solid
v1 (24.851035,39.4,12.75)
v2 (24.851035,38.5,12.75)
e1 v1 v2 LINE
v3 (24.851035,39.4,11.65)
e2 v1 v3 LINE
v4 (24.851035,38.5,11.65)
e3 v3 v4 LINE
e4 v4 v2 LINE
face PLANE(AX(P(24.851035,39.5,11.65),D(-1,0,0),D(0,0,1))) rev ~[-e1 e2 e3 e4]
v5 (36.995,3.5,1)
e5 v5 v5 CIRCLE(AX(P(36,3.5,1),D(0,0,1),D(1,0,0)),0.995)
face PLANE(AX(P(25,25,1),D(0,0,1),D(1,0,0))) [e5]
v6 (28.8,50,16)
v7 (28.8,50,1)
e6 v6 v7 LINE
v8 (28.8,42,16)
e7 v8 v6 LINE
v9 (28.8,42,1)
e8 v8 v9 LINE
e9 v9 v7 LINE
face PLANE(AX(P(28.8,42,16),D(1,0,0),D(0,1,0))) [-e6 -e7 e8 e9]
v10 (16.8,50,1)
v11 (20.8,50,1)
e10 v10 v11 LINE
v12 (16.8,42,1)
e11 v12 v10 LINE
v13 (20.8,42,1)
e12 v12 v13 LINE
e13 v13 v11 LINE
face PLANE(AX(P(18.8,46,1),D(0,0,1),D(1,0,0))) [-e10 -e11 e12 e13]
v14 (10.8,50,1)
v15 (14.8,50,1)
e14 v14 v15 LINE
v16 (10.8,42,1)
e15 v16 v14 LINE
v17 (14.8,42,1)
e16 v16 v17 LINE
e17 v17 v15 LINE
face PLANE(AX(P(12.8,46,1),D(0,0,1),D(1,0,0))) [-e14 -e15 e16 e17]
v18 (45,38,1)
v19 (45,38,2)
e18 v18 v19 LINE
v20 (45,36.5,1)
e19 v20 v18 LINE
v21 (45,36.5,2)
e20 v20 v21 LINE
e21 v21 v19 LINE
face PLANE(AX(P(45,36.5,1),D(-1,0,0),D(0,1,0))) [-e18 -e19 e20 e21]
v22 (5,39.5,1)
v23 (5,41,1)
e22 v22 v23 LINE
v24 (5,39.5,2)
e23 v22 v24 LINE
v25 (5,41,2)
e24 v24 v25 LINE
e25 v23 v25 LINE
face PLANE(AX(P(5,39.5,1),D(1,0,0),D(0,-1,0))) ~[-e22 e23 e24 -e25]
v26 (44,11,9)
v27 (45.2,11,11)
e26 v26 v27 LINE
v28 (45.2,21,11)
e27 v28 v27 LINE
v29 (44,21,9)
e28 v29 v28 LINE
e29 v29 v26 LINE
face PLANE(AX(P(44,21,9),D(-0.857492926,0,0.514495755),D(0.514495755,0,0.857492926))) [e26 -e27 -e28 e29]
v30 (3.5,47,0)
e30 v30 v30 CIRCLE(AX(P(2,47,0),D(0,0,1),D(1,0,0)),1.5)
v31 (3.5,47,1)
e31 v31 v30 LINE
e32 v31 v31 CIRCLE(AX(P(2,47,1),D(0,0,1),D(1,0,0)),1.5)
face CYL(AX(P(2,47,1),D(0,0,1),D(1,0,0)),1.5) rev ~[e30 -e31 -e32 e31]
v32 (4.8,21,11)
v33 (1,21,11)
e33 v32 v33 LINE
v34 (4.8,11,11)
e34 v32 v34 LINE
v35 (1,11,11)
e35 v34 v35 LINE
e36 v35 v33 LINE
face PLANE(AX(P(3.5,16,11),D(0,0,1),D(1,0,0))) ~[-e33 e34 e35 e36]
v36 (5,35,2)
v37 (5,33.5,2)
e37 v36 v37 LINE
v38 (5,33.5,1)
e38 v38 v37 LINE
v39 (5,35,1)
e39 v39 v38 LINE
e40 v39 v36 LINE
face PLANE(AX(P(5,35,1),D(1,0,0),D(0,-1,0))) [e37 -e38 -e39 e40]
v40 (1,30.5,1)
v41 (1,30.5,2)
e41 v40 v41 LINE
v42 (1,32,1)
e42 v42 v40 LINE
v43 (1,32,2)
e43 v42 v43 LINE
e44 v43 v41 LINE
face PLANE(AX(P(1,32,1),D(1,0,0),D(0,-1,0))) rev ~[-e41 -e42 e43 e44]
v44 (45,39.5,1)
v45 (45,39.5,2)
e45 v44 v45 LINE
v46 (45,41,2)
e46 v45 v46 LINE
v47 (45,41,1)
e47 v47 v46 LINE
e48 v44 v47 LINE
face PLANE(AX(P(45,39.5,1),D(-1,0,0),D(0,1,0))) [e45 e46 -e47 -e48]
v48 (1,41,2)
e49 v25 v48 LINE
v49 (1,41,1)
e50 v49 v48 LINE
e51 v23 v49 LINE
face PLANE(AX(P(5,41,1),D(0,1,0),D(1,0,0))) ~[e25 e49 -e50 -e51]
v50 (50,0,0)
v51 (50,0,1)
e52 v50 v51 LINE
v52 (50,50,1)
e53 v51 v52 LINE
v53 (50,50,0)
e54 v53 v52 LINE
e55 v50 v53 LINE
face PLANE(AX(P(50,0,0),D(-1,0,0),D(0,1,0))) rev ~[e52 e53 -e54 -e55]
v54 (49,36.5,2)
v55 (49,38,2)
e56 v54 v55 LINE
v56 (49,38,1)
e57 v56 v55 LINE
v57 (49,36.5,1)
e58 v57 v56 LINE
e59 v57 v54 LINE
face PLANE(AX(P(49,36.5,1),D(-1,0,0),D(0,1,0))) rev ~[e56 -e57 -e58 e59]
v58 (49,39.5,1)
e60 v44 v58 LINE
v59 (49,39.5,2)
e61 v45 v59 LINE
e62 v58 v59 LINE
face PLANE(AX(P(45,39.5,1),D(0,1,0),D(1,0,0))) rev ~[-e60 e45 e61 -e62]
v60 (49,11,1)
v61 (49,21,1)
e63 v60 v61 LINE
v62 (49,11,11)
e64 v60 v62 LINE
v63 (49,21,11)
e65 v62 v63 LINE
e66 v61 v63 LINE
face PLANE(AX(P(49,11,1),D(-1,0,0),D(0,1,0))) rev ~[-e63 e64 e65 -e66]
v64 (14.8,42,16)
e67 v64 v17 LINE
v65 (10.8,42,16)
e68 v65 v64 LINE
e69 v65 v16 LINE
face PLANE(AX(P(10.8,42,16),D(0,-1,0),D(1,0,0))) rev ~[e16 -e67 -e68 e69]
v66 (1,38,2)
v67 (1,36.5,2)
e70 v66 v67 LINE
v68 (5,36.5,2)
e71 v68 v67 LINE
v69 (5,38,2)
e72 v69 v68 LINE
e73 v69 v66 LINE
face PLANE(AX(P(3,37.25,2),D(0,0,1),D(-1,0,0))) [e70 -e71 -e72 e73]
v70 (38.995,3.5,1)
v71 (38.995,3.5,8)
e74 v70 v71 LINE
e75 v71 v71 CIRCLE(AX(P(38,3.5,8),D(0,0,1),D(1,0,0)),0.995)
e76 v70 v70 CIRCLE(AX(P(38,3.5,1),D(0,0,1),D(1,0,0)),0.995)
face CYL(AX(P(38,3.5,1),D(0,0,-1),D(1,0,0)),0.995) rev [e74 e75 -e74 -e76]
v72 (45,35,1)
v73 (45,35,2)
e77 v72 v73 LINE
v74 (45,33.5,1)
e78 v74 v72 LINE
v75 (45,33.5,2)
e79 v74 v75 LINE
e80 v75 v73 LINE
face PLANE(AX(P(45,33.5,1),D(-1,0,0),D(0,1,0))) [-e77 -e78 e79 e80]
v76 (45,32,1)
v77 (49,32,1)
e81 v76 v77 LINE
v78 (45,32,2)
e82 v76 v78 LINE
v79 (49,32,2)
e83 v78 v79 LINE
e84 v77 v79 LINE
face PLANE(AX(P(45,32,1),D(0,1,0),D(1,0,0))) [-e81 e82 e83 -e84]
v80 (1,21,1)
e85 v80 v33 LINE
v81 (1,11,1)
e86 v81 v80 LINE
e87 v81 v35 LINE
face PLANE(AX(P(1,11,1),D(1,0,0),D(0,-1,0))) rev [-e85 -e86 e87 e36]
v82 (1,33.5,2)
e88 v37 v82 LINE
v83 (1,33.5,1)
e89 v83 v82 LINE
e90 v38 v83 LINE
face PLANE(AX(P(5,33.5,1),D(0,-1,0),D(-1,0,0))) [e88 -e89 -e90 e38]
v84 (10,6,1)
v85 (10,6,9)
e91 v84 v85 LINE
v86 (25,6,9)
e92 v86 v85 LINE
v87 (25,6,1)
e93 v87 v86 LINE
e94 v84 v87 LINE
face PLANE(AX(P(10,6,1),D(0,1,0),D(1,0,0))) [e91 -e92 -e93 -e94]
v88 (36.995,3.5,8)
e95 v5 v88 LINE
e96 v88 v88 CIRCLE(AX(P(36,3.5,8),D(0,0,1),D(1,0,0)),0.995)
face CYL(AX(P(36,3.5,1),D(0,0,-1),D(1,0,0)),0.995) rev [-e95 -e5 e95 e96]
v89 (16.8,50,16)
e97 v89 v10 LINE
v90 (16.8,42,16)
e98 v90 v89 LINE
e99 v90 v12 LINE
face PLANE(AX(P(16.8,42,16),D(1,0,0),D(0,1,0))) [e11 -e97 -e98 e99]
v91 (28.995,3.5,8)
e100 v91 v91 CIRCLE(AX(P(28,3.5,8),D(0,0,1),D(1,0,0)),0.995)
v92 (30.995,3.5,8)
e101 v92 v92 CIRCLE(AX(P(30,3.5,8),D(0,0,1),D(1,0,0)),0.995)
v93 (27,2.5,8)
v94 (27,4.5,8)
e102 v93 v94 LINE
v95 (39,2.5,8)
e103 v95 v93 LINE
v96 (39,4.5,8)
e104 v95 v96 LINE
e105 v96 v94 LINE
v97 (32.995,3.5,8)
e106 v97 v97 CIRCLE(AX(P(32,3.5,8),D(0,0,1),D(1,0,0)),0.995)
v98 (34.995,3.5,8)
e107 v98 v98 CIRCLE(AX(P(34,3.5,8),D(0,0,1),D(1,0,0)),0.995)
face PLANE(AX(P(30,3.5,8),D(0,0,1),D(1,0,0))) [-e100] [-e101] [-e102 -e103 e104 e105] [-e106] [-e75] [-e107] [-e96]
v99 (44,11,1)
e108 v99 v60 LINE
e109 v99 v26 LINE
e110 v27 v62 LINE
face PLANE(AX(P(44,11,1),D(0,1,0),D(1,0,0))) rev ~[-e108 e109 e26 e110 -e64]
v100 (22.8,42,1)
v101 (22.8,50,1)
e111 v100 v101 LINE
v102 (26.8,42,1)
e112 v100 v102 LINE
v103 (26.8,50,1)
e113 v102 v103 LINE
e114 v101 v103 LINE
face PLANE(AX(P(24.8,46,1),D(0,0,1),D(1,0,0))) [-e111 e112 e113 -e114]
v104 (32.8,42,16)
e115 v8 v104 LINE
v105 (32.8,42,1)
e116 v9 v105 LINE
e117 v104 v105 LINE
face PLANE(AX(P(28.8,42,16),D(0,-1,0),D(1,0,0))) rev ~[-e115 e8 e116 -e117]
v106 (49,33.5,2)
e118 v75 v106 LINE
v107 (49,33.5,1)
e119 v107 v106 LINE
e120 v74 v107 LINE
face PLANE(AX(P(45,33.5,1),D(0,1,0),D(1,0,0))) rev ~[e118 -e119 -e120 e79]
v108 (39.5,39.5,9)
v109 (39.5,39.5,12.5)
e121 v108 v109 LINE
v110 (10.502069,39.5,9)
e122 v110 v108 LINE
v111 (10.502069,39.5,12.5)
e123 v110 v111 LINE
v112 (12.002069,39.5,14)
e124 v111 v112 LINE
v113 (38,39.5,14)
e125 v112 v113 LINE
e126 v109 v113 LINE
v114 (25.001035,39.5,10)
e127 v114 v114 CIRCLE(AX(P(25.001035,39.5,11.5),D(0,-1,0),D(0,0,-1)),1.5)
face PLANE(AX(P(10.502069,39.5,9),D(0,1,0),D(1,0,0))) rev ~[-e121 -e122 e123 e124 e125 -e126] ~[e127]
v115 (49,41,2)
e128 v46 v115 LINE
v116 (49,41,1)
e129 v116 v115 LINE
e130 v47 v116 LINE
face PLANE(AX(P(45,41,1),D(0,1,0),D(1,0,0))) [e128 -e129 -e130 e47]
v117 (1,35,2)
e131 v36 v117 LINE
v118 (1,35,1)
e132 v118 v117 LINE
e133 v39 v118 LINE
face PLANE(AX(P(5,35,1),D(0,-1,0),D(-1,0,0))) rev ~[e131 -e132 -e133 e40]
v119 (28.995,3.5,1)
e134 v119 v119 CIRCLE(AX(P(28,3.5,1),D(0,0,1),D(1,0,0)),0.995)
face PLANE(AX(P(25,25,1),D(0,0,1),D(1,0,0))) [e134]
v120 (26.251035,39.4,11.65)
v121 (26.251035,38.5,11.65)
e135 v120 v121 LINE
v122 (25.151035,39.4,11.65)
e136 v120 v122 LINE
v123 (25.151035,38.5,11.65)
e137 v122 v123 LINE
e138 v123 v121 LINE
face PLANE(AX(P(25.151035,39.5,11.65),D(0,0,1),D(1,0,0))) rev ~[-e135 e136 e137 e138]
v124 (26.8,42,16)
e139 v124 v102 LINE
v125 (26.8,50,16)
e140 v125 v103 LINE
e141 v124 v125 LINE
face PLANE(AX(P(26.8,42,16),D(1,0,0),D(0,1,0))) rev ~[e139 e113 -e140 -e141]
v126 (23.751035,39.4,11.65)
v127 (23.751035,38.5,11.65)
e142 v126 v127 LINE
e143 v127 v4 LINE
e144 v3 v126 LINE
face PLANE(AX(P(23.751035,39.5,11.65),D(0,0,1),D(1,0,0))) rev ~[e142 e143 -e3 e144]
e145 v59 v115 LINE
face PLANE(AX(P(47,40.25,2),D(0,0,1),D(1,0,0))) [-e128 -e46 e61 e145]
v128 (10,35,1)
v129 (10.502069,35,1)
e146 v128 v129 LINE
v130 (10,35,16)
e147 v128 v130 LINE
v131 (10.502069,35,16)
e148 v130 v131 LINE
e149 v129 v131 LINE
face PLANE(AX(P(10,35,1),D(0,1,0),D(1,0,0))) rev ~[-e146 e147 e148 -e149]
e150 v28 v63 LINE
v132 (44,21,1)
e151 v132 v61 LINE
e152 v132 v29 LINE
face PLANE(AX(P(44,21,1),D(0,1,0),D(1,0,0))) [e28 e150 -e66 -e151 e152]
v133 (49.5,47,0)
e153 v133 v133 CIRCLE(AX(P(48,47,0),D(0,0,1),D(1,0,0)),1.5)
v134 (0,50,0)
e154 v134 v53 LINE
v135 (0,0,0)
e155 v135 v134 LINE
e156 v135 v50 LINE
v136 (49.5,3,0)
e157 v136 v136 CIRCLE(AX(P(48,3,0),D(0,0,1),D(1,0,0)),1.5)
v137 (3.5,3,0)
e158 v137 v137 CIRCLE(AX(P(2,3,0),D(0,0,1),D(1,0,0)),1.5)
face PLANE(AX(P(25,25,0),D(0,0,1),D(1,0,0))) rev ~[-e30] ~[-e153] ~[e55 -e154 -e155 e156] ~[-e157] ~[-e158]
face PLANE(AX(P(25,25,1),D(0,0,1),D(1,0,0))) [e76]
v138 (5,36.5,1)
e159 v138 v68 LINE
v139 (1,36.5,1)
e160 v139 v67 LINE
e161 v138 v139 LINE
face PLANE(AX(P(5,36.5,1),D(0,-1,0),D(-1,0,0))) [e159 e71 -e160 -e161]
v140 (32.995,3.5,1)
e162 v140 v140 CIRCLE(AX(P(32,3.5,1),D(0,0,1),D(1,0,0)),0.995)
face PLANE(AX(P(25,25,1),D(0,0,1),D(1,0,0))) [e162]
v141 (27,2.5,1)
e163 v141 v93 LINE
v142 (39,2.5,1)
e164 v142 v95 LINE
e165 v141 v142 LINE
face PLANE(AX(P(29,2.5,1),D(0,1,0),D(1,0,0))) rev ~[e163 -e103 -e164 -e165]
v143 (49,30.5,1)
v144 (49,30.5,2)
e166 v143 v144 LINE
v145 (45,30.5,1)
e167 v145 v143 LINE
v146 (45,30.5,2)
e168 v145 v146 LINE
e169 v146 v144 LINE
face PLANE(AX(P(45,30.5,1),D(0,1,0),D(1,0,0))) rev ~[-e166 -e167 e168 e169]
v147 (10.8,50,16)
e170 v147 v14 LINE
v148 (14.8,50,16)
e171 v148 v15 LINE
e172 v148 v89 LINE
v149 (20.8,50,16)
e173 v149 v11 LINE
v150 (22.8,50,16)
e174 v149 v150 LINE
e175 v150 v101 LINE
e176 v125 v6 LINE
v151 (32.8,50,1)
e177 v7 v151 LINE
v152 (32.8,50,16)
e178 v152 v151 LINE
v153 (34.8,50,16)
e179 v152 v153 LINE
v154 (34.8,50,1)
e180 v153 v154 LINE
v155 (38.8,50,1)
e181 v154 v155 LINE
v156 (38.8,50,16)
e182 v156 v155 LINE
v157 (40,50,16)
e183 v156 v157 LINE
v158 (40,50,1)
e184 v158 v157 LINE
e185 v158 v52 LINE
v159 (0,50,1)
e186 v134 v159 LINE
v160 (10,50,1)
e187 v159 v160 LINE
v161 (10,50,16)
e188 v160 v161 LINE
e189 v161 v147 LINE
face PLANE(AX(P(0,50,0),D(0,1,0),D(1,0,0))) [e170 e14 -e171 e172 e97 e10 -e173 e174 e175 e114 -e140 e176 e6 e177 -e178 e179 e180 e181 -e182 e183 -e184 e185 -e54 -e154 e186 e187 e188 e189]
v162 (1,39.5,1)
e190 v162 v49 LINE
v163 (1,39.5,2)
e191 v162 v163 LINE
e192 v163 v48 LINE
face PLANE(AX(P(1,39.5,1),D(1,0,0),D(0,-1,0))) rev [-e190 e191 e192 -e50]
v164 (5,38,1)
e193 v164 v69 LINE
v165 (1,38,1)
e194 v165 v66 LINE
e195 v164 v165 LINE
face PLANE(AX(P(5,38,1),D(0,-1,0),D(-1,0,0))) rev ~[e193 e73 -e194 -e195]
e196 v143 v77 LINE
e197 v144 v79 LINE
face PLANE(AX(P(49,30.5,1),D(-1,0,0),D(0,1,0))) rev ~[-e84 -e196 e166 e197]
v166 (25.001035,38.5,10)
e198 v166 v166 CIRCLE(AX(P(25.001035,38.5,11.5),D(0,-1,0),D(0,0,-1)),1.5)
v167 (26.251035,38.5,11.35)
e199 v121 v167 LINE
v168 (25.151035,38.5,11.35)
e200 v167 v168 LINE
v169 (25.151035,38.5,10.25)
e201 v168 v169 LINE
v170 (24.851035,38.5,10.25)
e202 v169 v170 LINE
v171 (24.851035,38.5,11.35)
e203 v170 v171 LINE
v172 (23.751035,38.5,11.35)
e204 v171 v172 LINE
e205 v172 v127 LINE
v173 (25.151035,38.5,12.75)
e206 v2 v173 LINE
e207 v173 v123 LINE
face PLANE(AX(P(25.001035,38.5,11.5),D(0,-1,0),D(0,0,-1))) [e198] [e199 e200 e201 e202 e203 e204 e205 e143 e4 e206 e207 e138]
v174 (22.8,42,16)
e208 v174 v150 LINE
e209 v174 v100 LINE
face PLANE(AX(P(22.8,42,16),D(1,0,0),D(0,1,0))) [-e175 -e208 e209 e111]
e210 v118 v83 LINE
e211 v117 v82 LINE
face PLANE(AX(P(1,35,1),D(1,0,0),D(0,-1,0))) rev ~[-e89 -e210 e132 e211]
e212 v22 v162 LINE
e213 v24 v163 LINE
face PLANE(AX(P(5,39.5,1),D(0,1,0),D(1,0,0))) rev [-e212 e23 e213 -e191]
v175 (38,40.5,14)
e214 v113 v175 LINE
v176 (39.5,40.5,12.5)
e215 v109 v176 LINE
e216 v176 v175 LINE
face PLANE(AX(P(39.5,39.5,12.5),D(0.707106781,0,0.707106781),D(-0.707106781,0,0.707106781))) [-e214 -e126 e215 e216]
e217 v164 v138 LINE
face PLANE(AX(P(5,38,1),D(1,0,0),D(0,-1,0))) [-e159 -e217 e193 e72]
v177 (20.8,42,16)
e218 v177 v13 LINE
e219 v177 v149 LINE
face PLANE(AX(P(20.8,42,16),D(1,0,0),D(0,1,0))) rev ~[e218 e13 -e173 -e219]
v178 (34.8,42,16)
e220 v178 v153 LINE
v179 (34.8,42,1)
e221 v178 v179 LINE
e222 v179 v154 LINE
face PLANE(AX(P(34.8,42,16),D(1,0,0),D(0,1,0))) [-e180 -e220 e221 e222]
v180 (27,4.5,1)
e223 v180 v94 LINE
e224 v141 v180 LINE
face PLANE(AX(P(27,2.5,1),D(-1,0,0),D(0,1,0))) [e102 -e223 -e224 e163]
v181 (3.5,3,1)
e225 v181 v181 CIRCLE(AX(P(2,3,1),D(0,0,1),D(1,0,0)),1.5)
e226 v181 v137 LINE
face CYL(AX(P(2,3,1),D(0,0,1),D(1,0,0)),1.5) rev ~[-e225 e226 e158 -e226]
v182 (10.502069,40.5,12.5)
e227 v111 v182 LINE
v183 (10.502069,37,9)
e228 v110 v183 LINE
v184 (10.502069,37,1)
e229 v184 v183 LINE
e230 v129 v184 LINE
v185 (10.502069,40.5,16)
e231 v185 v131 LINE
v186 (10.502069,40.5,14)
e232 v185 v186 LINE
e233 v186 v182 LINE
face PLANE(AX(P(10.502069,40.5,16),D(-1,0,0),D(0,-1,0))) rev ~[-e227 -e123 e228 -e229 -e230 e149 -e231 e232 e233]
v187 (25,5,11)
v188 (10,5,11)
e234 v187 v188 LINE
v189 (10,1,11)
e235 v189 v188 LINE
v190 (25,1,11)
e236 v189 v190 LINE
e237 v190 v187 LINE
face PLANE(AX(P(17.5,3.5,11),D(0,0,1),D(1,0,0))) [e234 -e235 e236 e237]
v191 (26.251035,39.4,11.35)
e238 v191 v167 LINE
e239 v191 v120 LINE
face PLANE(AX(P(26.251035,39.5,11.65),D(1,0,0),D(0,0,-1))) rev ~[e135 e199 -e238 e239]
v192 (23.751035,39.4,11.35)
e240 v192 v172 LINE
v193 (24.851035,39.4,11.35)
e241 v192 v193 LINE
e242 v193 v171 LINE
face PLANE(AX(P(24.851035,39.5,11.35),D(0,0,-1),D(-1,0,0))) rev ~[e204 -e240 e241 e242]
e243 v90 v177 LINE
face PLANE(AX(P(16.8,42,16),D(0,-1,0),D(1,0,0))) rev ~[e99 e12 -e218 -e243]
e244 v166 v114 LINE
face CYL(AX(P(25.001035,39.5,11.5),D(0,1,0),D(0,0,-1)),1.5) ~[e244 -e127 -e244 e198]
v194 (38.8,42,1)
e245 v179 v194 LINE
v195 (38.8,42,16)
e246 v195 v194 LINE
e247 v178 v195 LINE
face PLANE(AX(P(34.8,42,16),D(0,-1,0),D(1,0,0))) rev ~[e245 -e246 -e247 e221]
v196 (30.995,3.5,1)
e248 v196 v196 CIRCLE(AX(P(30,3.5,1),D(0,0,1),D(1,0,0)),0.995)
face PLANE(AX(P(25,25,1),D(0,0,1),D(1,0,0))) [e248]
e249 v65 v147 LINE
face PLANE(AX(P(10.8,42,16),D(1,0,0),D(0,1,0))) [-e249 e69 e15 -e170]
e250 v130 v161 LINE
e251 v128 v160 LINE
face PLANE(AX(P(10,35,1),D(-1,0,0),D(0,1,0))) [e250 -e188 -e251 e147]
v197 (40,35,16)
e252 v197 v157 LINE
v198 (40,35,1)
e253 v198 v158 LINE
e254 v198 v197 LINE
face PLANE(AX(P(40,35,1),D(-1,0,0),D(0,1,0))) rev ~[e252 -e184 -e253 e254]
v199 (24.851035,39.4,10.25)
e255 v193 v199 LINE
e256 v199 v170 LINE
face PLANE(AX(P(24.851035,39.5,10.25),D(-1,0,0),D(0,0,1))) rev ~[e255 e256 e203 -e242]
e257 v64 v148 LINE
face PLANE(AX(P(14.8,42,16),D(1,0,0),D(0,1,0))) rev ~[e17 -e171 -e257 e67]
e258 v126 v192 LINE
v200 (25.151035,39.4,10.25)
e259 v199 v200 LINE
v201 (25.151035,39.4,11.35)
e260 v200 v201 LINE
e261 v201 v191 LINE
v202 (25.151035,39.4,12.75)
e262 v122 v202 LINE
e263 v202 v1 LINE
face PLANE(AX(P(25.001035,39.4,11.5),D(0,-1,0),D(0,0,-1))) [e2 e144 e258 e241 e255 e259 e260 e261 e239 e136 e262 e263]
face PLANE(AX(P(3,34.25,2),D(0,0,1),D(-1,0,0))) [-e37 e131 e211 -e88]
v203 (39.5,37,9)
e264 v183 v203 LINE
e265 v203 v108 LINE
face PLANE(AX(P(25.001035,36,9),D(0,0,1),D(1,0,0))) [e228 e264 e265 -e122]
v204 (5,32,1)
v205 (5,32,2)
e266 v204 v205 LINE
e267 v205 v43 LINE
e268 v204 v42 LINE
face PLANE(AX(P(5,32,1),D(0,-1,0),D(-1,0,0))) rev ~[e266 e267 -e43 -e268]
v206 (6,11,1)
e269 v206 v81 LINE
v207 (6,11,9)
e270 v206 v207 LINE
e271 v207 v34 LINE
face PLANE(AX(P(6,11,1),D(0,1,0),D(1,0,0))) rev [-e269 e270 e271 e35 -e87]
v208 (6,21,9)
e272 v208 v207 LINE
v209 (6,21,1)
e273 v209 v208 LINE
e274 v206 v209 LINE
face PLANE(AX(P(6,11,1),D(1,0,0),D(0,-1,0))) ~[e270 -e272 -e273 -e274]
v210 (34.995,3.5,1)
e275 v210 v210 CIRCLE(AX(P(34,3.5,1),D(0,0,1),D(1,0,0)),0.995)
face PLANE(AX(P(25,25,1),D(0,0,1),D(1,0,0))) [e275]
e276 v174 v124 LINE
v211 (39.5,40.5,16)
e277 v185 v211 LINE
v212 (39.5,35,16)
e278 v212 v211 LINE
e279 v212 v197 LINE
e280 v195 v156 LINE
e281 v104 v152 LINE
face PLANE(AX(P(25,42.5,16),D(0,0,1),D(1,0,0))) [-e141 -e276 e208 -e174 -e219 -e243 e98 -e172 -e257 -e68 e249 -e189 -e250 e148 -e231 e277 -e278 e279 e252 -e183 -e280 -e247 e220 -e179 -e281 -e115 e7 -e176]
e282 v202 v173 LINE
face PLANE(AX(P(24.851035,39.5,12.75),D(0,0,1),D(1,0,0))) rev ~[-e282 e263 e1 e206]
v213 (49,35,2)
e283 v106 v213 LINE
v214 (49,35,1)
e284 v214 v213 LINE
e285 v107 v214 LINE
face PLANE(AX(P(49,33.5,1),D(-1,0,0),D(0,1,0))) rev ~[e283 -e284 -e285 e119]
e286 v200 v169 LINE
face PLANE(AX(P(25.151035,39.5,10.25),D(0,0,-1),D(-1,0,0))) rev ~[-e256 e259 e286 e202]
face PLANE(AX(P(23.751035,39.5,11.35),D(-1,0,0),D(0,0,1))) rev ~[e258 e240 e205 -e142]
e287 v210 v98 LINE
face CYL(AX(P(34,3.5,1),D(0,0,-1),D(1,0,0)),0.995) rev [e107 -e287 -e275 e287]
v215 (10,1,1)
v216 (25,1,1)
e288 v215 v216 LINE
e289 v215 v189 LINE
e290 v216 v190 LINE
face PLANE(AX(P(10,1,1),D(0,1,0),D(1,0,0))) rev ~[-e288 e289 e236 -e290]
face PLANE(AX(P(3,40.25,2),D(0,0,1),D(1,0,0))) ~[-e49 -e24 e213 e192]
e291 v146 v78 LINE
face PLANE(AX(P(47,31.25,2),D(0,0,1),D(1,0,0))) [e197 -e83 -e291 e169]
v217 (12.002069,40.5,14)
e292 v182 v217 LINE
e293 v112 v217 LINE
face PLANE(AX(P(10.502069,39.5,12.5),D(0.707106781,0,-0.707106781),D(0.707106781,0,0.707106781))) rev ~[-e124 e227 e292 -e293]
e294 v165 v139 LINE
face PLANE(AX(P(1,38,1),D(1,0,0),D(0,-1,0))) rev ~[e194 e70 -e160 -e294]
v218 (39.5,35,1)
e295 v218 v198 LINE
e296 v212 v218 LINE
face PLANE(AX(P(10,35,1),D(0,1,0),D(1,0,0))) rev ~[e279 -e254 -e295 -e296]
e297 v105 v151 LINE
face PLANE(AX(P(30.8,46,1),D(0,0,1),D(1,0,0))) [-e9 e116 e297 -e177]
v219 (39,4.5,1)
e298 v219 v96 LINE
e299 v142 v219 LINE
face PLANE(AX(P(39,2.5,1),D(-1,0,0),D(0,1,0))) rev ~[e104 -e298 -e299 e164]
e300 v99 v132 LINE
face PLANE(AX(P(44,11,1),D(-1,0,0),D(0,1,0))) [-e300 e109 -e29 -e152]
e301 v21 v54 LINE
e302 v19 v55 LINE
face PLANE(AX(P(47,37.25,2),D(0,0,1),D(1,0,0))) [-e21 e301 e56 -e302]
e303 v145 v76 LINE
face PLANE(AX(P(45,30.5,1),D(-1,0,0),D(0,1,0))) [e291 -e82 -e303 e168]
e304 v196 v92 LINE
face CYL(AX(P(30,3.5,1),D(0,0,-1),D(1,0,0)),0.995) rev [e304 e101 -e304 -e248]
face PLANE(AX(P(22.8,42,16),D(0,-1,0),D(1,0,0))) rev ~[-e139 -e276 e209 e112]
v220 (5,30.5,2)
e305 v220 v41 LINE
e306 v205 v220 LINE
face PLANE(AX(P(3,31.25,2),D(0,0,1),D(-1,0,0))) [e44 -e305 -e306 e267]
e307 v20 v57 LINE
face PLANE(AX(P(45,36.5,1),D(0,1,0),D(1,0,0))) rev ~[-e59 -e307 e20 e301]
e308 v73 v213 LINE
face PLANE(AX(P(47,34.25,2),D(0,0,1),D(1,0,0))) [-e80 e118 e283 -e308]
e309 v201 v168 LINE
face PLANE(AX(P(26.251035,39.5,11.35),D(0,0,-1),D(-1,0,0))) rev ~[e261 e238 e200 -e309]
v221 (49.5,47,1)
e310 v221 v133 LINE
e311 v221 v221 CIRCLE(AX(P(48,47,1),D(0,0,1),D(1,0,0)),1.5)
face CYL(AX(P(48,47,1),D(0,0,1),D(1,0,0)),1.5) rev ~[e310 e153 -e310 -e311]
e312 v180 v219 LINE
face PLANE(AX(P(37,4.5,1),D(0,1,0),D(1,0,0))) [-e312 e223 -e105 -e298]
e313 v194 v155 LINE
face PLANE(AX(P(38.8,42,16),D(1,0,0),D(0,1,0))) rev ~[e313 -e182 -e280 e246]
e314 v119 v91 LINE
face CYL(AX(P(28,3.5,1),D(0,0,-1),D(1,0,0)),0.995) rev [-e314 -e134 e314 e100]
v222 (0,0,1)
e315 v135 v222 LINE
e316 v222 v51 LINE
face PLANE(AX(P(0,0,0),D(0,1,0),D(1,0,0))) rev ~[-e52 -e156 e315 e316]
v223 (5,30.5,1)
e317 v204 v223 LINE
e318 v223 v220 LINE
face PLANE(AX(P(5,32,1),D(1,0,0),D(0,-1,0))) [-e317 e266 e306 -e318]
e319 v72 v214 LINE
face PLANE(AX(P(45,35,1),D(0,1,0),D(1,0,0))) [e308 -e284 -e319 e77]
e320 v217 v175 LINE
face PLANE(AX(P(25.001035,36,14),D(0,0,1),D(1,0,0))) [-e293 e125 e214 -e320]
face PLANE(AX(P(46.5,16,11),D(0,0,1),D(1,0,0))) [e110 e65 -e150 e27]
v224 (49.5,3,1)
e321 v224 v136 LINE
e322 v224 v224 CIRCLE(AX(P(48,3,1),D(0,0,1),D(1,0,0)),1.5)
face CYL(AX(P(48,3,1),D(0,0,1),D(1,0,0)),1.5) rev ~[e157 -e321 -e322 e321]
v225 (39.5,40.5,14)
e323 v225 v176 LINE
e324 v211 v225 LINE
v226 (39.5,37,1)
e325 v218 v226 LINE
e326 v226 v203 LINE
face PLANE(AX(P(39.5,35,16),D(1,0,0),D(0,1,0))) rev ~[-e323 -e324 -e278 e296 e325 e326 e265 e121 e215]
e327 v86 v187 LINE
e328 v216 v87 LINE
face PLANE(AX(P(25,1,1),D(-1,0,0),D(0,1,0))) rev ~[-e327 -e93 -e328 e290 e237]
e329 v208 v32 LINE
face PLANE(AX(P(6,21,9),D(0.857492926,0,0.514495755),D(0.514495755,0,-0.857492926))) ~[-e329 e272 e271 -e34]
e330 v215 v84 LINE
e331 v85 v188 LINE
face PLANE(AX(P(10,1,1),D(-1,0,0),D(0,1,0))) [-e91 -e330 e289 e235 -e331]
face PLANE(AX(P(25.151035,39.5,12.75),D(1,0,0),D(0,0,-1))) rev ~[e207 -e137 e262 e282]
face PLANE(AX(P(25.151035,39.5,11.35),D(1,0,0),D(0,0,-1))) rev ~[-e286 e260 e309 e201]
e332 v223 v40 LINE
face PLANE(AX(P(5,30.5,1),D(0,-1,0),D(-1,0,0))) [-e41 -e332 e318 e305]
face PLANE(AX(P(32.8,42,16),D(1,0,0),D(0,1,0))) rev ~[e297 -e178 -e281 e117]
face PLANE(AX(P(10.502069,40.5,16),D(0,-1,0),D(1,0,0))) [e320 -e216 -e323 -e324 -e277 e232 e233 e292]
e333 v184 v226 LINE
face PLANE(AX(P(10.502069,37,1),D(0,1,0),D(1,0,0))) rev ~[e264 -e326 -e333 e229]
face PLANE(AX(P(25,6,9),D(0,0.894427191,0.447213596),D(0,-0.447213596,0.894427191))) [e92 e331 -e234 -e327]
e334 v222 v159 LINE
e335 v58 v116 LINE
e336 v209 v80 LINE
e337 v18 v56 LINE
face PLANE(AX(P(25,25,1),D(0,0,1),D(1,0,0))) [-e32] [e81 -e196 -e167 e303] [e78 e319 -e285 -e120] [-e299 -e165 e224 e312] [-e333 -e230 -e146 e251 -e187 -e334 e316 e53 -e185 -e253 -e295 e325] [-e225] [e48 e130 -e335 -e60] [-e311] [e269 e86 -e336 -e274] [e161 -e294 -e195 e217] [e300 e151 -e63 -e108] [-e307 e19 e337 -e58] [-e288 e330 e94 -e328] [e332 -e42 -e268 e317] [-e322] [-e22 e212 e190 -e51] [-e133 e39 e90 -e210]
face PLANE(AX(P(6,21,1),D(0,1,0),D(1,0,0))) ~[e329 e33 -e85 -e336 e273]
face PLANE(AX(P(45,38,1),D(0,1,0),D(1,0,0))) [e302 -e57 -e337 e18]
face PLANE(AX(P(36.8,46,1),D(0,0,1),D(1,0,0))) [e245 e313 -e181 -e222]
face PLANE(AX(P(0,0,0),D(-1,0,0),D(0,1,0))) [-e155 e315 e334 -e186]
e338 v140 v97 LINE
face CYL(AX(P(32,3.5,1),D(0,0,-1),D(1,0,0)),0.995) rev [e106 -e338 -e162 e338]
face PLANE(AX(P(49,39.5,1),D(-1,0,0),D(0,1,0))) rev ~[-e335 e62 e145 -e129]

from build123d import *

# Parameters (mm, degrees)
SKETCH1_W               = 50
SKETCH1_H               = 50
BOSS_EXTRUDE1_DEPTH     = 1
SKETCH2_W               = 30
SKETCH2_H               = 15
BOSS_EXTRUDE2_DEPTH     = 15
SKETCH3_W               = 4
SKETCH3_H               = 8
CUT_EXTRUDE1_DEPTH      = 15
LPATTERN1_COUNT         = 5
LPATTERN1_PITCH         = 6
SKETCH4_W               = 28.997930891
SKETCH4_H               = 2
SKETCH4_H_2             = 2.5
SKETCH4_H_3             = 1
CUT_EXTRUDE2_DEPTH      = 2
CUT_EXTRUDE3_START      = -7
SKETCH4_3_W             = 28.997930891
SKETCH4_3_H             = 2
SKETCH4_3_H_2           = 2.5
CUT_EXTRUDE3_DEPTH      = 5
CUT_EXTRUDE4_START      = -15
SKETCH4_4_W             = 28.997930891
SKETCH4_4_H             = 2
CUT_EXTRUDE4_DEPTH      = 8
CUT_EXTRUDE5_DEPTH      = 1
SKETCH6_R               = 1.5
SKETCH6_W               = 2.5
SKETCH6_H               = 0.3
SKETCH6_W_2             = 0.3
SKETCH6_H_2             = 2.5
SKETCH6_H_3             = 1.1
SKETCH6_W_3             = 1.1
BOSS_EXTRUDE3_DEPTH     = 0.1
SKETCH6_3_R             = 1.5
BOSS_EXTRUDE4_DEPTH     = 1
SKETCH7_R               = 1.5
CUT_EXTRUDE6_DEPTH      = 73.284161474
SKETCH8_W               = 4
SKETCH8_H               = 1.5
BOSS_EXTRUDE5_DEPTH     = 1
LPATTERN2_COUNT         = 4
LPATTERN2_PITCH         = 3
MIRROR1_COPY_1_SKETCH_W = 4
MIRROR1_COPY_1_SKETCH_H = 1.5
MIRROR1_COPY_1_DEPTH    = 1
MIRROR1_COPY_2_SKETCH_W = 4
MIRROR1_COPY_2_SKETCH_H = 1.5
MIRROR1_COPY_2_DEPTH    = 1
MIRROR1_COPY_3_SKETCH_W = 4
MIRROR1_COPY_3_SKETCH_H = 1.5
MIRROR1_COPY_3_DEPTH    = 1
SKETCH9_W               = 5
SKETCH9_H               = 10
BOSS_EXTRUDE6_DEPTH     = 10
CUT_EXTRUDE7_DEPTH      = 10
SKETCH11_W              = 15
SKETCH11_H              = 5
BOSS_EXTRUDE7_DEPTH     = 10
CUT_EXTRUDE8_REACH      = 60.146
SKETCH13_W              = 2
SKETCH13_H              = 2
SKETCH13_R              = 0.995
BOSS_EXTRUDE9_DEPTH     = 7
LPATTERN3_COUNT         = 6
LPATTERN3_PITCH         = 2


with BuildPart() as part:
    # Sketch1 → Boss-Extrude1 (new body)
    with BuildSketch(Plane.XY):
        with Locations((25, 25)):
            Rectangle(SKETCH1_W, SKETCH1_H)
    extrude(amount=BOSS_EXTRUDE1_DEPTH)

    # Sketch2 → Boss-Extrude2 (add)
    with BuildSketch(Plane.XY.offset(1)):
        with Locations((25, 42.5)):
            Rectangle(SKETCH2_W, SKETCH2_H)
    extrude(amount=BOSS_EXTRUDE2_DEPTH)

    # Sketch3 → Cut-Extrude1 (cut)
    with BuildSketch(Plane.XY.offset(16)):
        with Locations((12.8, 46)):
            Rectangle(SKETCH3_W, SKETCH3_H)
    cut_extrude1 = extrude(amount=-CUT_EXTRUDE1_DEPTH, mode=Mode.SUBTRACT)

    # LPattern1: Cut-Extrude1 ×5
    with Locations(*[(i * LPATTERN1_PITCH, 0, 0) for i in range(1, LPATTERN1_COUNT)]):
        add(cut_extrude1, mode=Mode.SUBTRACT)

    # Sketch4 → Cut-Extrude2 (cut)
    with BuildSketch(Plane.XY.offset(16)):
        with Locations((25.001034555, 36)):
            Rectangle(SKETCH4_W, SKETCH4_H)
        with Locations((25.001034555, 38.25)):
            Rectangle(SKETCH4_W, SKETCH4_H_2)
        with Locations((25.001034555, 40)):
            Rectangle(SKETCH4_W, SKETCH4_H_3)
    extrude(amount=-CUT_EXTRUDE2_DEPTH, mode=Mode.SUBTRACT)

    # Sketch4<3> → Cut-Extrude3 (cut)
    with BuildSketch(Plane.XY.offset(16).offset(CUT_EXTRUDE3_START)):
        with Locations((25.001034555, 36)):
            Rectangle(SKETCH4_3_W, SKETCH4_3_H)
        with Locations((25.001034555, 38.25)):
            Rectangle(SKETCH4_3_W, SKETCH4_3_H_2)
    extrude(amount=CUT_EXTRUDE3_DEPTH, mode=Mode.SUBTRACT)

    # Sketch4<4> → Cut-Extrude4 (cut)
    with BuildSketch(Plane.XY.offset(16).offset(CUT_EXTRUDE4_START)):
        with Locations((25.001034555, 36)):
            Rectangle(SKETCH4_4_W, SKETCH4_4_H)
    extrude(amount=CUT_EXTRUDE4_DEPTH, mode=Mode.SUBTRACT)

    # Sketch5 → Cut-Extrude5 (cut)
    with BuildSketch(Plane.XZ.offset(-39.5)):
        Polygon((12.002069109, 14), (10.502069109, 14), (10.502069109, 12.5), align=None)
        Polygon((38, 14), (39.5, 14), (39.5, 12.5), align=None)
    extrude(amount=-CUT_EXTRUDE5_DEPTH, mode=Mode.SUBTRACT)

    # Sketch6 → Boss-Extrude3 (add)
    # profile 1 of 6: a face of its own
    with BuildSketch(Plane.XZ.offset(-39.5)):
        with Locations(Location((25.001034554, 11.5, 0), (0, 0, 270))):
            Circle(SKETCH6_R)
        with Locations((25.001034554, 11.5)):
            Rectangle(SKETCH6_W, SKETCH6_H, mode=Mode.SUBTRACT)
        with Locations((25.001034554, 11.5)):
            Rectangle(SKETCH6_W_2, SKETCH6_H_2, mode=Mode.SUBTRACT)
    # profile 2 of 6: a face of its own
    with BuildSketch(Plane.XZ.offset(-39.5)):
        with Locations((25.001034554, 10.8)):
            Rectangle(SKETCH6_W_2, SKETCH6_H_3)
    # profile 3 of 6: a face of its own
    with BuildSketch(Plane.XZ.offset(-39.5)):
        with Locations((25.701034554, 11.5)):
            Rectangle(SKETCH6_W_3, SKETCH6_H)
    # profile 4 of 6: a face of its own
    with BuildSketch(Plane.XZ.offset(-39.5)):
        with Locations((25.001034554, 12.2)):
            Rectangle(SKETCH6_W_2, SKETCH6_H_3)
    # profile 5 of 6: a face of its own
    with BuildSketch(Plane.XZ.offset(-39.5)):
        with Locations((25.001034554, 11.5)):
            Rectangle(SKETCH6_W_2, SKETCH6_H)
    # profile 6 of 6: a face of its own
    with BuildSketch(Plane.XZ.offset(-39.5)):
        with Locations((24.301034554, 11.5)):
            Rectangle(SKETCH6_W_3, SKETCH6_H)
    extrude(amount=BOSS_EXTRUDE3_DEPTH)

    # Sketch6<3> → Boss-Extrude4 (add)
    with BuildSketch(Plane.XZ.offset(-39.5)):
        with Locations(Location((25.001034554, 11.5, 0), (0, 0, 270))):
            Circle(SKETCH6_3_R)
        Polygon((25.151034554, 10.25), (24.851034554, 10.25), (24.851034554, 11.35), (23.751034554, 11.35), (23.751034554, 11.65), (24.851034554, 11.65), (24.851034554, 12.75), (25.151034554, 12.75), (25.151034554, 11.65), (26.251034554, 11.65), (26.251034554, 11.35), (25.151034554, 11.35), align=None, mode=Mode.SUBTRACT)
    extrude(amount=BOSS_EXTRUDE4_DEPTH)

    # Sketch7 → Cut-Extrude6 (cut, through all)
    with BuildSketch(Plane.XY.offset(1)):
        with Locations((48, 47)):
            Circle(SKETCH7_R)
        with Locations((48, 3)):
            Circle(SKETCH7_R)
        with Locations((2, 3)):
            Circle(SKETCH7_R)
        with Locations((2, 47)):
            Circle(SKETCH7_R)
    extrude(amount=-CUT_EXTRUDE6_DEPTH, mode=Mode.SUBTRACT)

    # Sketch8 → Boss-Extrude5 (add)
    with BuildSketch(Plane.XY.offset(1)):
        with Locations((47, 40.25)):
            Rectangle(SKETCH8_W, SKETCH8_H)
    boss_extrude5 = extrude(amount=BOSS_EXTRUDE5_DEPTH)

    # LPattern2: Boss-Extrude5 ×4
    with Locations(*[(0, -i * LPATTERN2_PITCH, 0) for i in range(1, LPATTERN2_COUNT)]):
        add(boss_extrude5)

    # Mirror1: Boss-Extrude5 across plane
    add(boss_extrude5.mirror(Plane(origin=(25, 0, 0), x_dir=(0, 0, 1), z_dir=(1, 0, 0))))

    # Mirror1 copy 1 sketch → Mirror1 copy 1 (add)
    with BuildSketch(Plane(origin=(50, -3, 1), x_dir=(-1, 0, 0), z_dir=(0, 0, 1))):
        with Locations((47, -40.25)):
            Rectangle(MIRROR1_COPY_1_SKETCH_W, MIRROR1_COPY_1_SKETCH_H)
    extrude(amount=MIRROR1_COPY_1_DEPTH)

    # Mirror1 copy 2 sketch → Mirror1 copy 2 (add)
    with BuildSketch(Plane(origin=(50, -6, 1), x_dir=(-1, 0, 0), z_dir=(0, 0, 1))):
        with Locations((47, -40.25)):
            Rectangle(MIRROR1_COPY_2_SKETCH_W, MIRROR1_COPY_2_SKETCH_H)
    extrude(amount=MIRROR1_COPY_2_DEPTH)

    # Mirror1 copy 3 sketch → Mirror1 copy 3 (add)
    with BuildSketch(Plane(origin=(50, -9, 1), x_dir=(-1, 0, 0), z_dir=(0, 0, 1))):
        with Locations((47, -40.25)):
            Rectangle(MIRROR1_COPY_3_SKETCH_W, MIRROR1_COPY_3_SKETCH_H)
    extrude(amount=MIRROR1_COPY_3_DEPTH)

    # Sketch9 → Boss-Extrude6 (add)
    with BuildSketch(Plane.XY.offset(1)):
        with Locations((46.5, 16)):
            Rectangle(SKETCH9_W, SKETCH9_H)
    boss_extrude6 = extrude(amount=BOSS_EXTRUDE6_DEPTH)

    # Sketch10 → Cut-Extrude7 (cut)
    with BuildSketch(Plane(origin=(0, 21, 0), x_dir=(1, 0, 0), z_dir=(0, 1, 0))):
        Polygon((45.2, -11), (44, -11), (44, -9), align=None)
    cut_extrude7 = extrude(amount=-CUT_EXTRUDE7_DEPTH, mode=Mode.SUBTRACT)

    # Mirror2: Boss-Extrude6, Cut-Extrude7 across plane
    add(boss_extrude6.mirror(Plane(origin=(25, 0, 0), x_dir=(0, 0, 1), z_dir=(1, 0, 0))))
    add(cut_extrude7.mirror(Plane(origin=(25, 0, 0), x_dir=(0, 0, 1), z_dir=(1, 0, 0))), mode=Mode.SUBTRACT)

    # Sketch11 → Boss-Extrude7 (add)
    with BuildSketch(Plane.XY.offset(1)):
        with Locations((17.5, 3.5)):
            Rectangle(SKETCH11_W, SKETCH11_H)
    extrude(amount=BOSS_EXTRUDE7_DEPTH)

    # Sketch12 → Cut-Extrude8 (cut, up to next)
    with BuildSketch(Plane(origin=(25, 0, 0), x_dir=(0, 0, -1), z_dir=(1, 0, 0)), mode=Mode.PRIVATE) as cut_extrude8_sk1:
        Polygon((-11, 5), (-11, 6), (-9, 6), align=None)
    cut_extrude8_tool1 = extrude(cut_extrude8_sk1.sketch, amount=-CUT_EXTRUDE8_REACH, mode=Mode.PRIVATE) & part.part
    add(cut_extrude8_tool1.solids().sort_by_distance((25, 5.666667, 10.333333))[0], mode=Mode.SUBTRACT)

    # Sketch13 → Boss-Extrude9 (add)
    with BuildSketch(Plane.XY.offset(1)):
        with Locations((28, 3.5)):
            Rectangle(SKETCH13_W, SKETCH13_H)
        with Locations((28, 3.5)):
            Circle(SKETCH13_R, mode=Mode.SUBTRACT)
    boss_extrude9 = extrude(amount=BOSS_EXTRUDE9_DEPTH)

    # LPattern3: Boss-Extrude9 ×6
    with Locations(*[(i * LPATTERN3_PITCH, 0, 0) for i in range(1, LPATTERN3_COUNT)]):
        add(boss_extrude9)


solid = part.part
